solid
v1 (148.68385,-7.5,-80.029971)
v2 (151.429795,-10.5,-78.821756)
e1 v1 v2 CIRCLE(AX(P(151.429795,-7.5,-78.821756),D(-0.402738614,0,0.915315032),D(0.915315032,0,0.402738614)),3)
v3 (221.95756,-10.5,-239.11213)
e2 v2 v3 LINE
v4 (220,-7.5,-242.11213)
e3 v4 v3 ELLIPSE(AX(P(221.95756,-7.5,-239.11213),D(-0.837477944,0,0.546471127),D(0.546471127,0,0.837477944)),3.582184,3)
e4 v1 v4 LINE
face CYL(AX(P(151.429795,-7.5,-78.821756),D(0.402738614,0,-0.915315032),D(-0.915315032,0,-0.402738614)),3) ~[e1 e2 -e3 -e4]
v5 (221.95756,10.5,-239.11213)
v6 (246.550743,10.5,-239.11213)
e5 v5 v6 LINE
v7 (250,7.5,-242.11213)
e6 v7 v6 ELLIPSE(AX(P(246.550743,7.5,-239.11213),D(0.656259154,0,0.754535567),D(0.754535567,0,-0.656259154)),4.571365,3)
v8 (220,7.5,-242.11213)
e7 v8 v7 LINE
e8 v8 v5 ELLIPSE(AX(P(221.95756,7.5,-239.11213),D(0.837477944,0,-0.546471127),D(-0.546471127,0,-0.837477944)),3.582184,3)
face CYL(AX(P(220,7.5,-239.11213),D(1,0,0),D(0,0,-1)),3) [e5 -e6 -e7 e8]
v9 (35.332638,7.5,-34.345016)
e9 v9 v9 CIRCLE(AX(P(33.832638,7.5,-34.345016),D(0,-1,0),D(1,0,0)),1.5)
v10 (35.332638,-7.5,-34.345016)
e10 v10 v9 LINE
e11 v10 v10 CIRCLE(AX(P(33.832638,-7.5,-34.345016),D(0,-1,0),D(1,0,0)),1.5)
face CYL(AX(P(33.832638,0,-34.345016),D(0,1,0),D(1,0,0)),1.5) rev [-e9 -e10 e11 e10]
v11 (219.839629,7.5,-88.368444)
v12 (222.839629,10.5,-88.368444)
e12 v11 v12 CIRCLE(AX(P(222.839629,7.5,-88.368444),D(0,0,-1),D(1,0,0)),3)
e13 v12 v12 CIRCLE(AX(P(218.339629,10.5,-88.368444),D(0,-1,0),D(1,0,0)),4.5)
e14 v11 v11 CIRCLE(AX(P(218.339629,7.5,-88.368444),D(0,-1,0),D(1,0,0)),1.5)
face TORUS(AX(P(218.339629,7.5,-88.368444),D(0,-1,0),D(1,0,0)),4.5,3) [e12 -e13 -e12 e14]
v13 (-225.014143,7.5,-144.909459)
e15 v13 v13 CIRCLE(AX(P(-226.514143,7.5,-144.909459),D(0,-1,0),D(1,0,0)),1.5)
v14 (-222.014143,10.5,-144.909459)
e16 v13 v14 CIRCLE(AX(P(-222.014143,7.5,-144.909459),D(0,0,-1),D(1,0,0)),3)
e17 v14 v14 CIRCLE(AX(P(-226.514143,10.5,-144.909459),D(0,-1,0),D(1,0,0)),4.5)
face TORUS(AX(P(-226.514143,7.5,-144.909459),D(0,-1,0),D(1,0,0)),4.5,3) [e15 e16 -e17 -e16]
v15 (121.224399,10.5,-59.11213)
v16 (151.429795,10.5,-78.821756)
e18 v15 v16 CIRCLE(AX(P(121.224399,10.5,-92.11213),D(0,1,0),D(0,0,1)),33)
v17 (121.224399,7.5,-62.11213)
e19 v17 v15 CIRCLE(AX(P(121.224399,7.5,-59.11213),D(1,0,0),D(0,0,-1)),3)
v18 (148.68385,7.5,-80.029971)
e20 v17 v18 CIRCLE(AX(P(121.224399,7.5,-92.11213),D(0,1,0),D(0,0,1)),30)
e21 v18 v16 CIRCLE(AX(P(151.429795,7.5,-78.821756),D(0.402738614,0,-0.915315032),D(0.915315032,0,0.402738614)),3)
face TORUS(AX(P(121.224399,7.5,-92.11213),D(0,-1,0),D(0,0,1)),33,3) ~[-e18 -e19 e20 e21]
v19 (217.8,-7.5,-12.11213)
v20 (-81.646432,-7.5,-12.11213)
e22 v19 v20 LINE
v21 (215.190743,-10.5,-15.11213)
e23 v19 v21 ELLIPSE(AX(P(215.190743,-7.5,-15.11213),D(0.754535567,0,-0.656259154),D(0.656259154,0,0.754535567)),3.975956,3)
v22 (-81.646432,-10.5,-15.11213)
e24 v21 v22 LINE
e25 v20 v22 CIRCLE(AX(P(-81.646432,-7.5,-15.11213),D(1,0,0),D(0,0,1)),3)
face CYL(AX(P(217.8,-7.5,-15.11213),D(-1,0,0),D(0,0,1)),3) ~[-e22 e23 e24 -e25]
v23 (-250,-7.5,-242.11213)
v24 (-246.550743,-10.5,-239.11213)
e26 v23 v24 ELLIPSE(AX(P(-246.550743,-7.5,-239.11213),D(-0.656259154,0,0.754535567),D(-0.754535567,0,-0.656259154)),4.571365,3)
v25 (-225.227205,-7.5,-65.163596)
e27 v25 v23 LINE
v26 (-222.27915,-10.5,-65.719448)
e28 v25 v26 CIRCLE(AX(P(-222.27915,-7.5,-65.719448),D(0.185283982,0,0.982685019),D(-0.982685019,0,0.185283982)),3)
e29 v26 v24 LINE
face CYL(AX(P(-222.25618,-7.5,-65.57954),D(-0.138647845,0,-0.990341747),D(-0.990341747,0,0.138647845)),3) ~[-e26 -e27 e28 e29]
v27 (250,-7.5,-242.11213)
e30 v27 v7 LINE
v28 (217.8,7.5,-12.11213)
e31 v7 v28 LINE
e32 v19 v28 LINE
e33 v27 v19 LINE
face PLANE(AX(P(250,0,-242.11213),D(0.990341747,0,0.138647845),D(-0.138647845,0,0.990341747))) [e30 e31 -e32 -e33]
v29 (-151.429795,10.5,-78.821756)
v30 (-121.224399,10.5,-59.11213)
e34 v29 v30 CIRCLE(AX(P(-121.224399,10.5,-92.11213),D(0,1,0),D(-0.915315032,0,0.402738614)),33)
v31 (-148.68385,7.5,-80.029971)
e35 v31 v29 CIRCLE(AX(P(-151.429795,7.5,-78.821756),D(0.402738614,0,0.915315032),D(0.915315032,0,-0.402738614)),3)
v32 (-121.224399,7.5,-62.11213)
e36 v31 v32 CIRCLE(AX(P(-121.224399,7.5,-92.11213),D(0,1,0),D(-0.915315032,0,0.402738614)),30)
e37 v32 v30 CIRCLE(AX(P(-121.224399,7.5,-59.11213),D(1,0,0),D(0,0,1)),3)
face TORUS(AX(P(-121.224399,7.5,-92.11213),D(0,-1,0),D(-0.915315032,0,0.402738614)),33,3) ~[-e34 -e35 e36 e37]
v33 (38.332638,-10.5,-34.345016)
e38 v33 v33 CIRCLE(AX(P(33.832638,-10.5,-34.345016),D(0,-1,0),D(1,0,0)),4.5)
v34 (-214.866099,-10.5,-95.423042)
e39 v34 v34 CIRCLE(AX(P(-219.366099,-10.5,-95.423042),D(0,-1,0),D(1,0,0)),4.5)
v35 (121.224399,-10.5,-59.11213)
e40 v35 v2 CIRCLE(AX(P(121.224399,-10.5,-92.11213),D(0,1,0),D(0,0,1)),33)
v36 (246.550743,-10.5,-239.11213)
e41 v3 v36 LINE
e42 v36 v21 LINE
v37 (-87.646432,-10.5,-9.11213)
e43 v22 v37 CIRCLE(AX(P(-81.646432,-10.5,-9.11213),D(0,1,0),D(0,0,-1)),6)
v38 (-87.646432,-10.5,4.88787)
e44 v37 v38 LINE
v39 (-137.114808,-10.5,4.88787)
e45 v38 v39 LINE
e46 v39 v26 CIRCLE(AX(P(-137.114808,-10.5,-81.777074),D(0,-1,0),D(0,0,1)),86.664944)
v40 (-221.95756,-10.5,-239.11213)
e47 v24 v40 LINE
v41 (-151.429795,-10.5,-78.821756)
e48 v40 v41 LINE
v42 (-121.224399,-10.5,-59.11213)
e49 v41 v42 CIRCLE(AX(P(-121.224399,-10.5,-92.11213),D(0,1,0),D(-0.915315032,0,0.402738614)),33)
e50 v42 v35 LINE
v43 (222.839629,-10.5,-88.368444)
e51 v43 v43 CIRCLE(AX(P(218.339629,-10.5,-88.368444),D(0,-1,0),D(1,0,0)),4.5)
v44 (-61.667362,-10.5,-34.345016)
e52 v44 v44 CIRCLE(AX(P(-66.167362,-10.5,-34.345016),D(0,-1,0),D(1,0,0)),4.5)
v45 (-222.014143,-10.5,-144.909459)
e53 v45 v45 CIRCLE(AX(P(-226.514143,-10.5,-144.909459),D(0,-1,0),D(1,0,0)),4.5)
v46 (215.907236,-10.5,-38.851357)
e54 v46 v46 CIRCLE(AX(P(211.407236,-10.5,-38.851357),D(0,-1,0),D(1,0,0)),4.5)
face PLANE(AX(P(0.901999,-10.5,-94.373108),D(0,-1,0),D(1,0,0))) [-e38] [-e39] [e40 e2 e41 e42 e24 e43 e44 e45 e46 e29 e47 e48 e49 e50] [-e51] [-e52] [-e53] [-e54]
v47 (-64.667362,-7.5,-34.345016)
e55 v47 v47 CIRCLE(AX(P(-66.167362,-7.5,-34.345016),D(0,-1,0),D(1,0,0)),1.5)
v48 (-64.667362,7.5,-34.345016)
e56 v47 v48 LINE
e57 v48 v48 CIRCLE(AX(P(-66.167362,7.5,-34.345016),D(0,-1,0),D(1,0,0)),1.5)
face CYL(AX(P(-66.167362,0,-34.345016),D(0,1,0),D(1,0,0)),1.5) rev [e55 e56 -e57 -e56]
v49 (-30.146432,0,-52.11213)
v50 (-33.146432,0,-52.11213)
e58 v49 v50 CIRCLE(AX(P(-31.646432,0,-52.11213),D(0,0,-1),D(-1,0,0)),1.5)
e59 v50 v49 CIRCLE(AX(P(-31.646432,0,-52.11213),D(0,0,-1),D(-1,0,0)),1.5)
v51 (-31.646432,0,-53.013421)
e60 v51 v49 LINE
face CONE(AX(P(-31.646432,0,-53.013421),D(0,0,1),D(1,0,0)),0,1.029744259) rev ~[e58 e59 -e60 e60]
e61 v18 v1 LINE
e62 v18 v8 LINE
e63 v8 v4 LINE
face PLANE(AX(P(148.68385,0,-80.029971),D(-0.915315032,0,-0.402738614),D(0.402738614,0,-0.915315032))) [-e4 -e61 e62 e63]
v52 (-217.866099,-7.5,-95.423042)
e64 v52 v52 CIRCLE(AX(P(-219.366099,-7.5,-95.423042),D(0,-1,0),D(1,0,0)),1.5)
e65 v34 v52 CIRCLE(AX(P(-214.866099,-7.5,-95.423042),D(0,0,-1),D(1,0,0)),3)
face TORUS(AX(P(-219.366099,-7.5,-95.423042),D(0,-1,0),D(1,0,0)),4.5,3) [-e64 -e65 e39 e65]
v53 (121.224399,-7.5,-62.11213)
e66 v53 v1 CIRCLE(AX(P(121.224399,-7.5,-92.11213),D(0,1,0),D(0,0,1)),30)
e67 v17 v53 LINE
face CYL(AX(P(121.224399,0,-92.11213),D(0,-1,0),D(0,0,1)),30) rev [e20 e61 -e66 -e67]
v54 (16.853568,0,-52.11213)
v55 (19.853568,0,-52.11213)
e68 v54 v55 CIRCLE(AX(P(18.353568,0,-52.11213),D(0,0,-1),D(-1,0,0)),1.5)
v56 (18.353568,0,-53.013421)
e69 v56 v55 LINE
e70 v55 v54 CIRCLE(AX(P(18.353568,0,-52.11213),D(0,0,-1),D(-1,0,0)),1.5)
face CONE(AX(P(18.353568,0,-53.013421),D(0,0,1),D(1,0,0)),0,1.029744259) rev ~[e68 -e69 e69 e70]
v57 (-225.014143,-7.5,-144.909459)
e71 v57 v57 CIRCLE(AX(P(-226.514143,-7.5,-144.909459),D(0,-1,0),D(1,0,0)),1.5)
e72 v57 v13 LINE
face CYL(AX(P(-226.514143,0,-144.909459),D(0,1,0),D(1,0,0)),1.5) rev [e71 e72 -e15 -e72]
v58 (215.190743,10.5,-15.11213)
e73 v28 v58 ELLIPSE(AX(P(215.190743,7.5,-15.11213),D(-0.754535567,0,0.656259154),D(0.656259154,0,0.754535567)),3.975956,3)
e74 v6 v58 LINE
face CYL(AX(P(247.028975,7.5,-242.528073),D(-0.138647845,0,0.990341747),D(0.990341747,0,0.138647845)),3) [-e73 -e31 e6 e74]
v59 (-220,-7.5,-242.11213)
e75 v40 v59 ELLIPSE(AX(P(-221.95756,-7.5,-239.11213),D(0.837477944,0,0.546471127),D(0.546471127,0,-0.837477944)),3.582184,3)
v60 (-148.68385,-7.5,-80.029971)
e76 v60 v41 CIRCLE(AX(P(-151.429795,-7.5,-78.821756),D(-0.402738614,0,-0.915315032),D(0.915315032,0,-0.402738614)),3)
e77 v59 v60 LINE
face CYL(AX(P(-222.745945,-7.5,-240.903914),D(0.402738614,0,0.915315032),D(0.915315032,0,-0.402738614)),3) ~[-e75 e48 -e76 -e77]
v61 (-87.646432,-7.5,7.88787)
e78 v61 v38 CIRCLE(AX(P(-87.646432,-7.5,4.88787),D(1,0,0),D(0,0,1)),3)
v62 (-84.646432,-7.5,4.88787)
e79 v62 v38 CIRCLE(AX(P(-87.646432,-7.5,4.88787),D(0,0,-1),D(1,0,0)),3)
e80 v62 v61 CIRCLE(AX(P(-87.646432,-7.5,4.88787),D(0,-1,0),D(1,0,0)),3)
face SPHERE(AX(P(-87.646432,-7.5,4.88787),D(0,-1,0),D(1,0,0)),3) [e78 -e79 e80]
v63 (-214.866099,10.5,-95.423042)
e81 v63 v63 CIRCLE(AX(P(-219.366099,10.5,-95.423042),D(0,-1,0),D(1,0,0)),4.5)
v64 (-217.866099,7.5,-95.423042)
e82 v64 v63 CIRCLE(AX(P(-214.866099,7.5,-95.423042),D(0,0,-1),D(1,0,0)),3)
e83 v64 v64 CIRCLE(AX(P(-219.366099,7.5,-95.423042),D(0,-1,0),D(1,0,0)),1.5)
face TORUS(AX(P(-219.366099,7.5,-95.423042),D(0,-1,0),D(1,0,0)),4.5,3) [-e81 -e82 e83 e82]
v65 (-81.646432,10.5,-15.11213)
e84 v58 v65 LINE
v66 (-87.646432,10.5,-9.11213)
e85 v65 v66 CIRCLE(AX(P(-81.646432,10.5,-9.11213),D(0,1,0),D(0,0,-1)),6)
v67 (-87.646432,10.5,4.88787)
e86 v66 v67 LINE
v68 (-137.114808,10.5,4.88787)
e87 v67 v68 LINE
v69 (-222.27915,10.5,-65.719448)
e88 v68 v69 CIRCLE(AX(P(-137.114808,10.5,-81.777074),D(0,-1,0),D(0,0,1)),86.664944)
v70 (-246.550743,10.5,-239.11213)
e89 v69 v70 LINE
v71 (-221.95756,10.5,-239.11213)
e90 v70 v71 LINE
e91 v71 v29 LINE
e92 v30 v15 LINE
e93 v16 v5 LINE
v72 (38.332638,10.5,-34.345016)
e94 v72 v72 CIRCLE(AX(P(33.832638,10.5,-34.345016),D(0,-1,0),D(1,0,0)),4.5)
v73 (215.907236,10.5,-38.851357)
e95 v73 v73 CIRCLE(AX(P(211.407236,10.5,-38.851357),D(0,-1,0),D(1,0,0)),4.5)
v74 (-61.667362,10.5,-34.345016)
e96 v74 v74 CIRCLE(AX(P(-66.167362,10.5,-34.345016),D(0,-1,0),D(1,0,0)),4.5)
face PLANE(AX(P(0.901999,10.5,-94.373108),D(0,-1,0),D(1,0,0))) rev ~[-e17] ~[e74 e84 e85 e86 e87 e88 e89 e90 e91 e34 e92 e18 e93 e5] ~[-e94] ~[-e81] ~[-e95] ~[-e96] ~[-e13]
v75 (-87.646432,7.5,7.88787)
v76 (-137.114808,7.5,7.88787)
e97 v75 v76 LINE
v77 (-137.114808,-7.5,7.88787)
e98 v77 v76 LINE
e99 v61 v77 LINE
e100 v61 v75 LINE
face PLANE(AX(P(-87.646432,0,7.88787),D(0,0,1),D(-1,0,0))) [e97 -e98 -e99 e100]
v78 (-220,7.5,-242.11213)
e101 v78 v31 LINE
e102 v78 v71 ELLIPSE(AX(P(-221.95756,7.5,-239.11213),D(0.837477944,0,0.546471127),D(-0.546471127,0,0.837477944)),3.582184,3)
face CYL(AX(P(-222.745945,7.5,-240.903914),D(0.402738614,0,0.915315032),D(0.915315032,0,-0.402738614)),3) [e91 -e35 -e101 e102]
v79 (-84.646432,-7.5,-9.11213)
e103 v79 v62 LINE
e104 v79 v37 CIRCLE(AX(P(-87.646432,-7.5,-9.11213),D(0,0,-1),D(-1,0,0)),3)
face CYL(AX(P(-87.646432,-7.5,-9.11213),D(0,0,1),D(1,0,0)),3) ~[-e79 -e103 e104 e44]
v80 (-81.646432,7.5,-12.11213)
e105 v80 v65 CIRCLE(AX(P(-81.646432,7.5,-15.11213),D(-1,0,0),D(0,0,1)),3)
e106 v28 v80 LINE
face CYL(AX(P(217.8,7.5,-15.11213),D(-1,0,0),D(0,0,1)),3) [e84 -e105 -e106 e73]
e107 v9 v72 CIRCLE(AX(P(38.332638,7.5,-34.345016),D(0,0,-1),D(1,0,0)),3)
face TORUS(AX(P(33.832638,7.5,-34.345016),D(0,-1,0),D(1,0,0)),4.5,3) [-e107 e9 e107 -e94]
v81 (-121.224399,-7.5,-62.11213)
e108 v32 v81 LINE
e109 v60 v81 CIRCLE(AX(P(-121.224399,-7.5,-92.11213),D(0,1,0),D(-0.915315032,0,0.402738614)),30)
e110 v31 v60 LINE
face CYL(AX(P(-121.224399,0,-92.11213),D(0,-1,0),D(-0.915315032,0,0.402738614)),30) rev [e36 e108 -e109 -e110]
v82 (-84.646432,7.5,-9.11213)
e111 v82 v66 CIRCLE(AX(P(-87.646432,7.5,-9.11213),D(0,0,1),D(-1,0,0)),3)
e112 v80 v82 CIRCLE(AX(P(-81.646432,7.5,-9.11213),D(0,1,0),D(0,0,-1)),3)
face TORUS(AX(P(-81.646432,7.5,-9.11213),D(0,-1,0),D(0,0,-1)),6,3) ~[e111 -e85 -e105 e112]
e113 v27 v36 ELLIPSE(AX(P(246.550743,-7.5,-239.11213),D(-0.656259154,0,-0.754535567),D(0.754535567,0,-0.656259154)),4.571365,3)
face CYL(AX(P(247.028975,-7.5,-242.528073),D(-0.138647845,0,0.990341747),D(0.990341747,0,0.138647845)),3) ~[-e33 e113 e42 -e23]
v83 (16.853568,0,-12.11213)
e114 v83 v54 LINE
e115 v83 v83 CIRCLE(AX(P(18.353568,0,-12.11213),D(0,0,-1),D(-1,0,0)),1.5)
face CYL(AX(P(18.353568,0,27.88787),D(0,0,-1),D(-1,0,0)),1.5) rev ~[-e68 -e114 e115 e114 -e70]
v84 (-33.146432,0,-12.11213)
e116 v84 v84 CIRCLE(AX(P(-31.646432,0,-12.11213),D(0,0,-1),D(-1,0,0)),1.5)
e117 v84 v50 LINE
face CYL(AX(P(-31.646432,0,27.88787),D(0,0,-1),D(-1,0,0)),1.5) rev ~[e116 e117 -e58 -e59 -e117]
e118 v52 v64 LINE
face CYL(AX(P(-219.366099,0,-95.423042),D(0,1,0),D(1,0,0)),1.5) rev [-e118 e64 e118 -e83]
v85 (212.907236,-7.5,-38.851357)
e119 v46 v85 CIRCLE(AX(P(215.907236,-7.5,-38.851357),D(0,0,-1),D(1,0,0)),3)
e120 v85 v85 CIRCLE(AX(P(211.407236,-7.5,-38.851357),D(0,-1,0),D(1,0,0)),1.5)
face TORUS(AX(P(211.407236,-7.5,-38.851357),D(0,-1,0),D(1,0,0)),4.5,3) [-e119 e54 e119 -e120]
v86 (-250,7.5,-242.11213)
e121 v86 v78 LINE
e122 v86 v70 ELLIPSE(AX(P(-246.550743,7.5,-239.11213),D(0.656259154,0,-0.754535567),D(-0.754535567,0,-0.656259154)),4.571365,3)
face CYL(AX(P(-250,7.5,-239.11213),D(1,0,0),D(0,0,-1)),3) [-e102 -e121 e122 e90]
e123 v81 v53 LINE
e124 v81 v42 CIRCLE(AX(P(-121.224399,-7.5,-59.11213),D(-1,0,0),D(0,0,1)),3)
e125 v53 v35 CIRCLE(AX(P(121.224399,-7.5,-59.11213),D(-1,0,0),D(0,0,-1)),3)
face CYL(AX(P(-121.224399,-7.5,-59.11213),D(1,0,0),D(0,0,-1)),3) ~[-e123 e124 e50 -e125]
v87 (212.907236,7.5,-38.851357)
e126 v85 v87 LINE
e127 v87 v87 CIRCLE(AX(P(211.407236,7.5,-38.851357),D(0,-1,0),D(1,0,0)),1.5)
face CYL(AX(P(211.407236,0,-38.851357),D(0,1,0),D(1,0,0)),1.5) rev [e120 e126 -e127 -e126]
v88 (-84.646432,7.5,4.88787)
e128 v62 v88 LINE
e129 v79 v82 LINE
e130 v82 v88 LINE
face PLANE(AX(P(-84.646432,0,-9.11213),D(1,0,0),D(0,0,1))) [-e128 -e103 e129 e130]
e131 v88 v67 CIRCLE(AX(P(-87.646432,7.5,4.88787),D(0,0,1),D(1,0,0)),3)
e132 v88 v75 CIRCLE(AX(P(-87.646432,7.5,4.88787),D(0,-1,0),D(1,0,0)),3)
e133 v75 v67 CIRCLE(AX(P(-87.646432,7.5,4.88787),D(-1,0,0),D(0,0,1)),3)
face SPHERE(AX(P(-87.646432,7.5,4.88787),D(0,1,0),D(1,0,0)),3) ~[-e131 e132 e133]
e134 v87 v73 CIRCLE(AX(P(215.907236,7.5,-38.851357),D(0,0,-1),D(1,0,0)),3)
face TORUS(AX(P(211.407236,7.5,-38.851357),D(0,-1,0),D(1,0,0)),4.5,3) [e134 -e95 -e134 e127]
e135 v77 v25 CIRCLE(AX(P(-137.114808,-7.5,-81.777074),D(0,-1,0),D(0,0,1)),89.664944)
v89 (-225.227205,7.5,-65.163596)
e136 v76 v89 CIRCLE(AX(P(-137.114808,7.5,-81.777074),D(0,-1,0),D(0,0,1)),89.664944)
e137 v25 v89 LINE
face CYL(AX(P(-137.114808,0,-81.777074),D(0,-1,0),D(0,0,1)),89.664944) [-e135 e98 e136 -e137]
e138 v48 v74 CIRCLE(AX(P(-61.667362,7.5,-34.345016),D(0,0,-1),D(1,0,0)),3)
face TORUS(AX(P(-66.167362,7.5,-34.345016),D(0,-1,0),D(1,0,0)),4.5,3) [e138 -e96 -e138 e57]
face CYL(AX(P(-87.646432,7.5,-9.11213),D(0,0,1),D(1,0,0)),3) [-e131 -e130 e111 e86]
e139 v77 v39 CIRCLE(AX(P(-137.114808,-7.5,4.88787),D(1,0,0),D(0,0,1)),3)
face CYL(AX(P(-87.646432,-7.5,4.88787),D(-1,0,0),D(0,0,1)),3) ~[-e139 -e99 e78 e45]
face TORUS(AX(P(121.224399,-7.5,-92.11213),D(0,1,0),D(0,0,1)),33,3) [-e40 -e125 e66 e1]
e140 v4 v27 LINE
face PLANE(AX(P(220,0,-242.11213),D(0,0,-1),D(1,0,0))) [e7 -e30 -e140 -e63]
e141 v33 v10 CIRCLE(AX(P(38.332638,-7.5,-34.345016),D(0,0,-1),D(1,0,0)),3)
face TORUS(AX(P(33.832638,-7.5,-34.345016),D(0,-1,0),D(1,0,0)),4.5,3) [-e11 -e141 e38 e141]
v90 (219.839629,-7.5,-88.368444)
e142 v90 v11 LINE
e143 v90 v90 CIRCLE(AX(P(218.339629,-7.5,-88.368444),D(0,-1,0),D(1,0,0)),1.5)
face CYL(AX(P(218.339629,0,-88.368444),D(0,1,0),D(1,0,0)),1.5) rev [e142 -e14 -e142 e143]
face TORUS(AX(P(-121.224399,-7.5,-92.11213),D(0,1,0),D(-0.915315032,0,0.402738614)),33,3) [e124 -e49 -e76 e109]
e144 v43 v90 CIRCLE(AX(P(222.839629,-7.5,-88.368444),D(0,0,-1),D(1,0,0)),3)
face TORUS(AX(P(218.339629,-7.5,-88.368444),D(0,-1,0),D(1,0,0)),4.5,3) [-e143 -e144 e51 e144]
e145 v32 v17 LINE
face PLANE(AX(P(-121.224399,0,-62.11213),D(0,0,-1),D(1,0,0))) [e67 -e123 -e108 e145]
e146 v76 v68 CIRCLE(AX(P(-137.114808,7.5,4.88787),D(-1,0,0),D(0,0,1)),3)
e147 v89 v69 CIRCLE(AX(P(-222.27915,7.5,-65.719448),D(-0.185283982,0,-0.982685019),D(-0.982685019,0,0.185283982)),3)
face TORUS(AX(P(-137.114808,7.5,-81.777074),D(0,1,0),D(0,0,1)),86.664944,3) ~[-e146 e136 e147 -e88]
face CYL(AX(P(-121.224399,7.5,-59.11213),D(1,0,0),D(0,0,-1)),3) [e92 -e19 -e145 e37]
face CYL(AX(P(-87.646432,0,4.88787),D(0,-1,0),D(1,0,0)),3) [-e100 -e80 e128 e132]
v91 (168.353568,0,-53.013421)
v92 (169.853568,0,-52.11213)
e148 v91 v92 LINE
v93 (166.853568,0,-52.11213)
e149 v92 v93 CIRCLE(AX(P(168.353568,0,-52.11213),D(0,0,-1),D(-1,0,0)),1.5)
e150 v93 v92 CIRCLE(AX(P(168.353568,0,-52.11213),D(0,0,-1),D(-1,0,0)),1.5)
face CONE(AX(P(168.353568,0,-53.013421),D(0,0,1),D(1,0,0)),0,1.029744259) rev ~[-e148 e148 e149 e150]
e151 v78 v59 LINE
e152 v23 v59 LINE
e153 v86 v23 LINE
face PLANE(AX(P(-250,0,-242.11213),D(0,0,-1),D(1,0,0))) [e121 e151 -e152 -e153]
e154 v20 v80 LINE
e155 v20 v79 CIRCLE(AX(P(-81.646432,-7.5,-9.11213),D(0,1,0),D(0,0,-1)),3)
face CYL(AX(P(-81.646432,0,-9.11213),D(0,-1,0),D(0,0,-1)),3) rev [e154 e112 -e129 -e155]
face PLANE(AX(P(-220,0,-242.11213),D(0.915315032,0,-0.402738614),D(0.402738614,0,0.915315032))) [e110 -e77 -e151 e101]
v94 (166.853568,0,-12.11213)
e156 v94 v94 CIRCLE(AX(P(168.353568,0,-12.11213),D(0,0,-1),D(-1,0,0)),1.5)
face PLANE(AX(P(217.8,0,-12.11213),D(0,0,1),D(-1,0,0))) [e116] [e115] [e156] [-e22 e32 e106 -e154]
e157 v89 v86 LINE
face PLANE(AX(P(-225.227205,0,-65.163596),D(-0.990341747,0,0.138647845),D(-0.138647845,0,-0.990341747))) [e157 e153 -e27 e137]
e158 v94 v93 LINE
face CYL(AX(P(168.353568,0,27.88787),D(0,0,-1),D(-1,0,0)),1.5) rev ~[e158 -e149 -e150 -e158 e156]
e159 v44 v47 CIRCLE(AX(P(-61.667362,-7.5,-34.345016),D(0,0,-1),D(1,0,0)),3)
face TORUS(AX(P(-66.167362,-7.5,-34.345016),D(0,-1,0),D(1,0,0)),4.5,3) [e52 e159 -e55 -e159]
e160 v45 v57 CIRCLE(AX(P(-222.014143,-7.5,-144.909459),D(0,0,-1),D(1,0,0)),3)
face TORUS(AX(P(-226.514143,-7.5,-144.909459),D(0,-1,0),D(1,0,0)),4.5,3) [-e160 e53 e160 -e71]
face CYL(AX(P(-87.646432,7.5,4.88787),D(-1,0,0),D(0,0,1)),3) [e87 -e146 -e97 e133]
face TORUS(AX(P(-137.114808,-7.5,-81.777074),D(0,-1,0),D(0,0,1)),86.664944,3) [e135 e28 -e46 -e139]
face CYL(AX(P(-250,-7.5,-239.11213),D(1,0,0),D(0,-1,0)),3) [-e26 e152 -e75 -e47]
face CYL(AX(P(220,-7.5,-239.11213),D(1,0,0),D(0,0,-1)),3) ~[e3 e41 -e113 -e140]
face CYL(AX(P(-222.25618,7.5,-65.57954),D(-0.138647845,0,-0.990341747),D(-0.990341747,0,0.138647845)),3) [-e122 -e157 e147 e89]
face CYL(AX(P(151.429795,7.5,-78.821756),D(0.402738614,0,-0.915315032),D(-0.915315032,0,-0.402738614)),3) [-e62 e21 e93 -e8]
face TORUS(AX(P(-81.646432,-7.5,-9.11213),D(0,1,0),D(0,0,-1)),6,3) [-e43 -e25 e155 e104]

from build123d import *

# Parameters (mm, degrees)
F0_R     = 1.5
F1_DEPTH = 10.5
F2_R     = 3
F4_D     = 3
F4_DEPTH = 40
F4_TIP   = 0.9012909285
F5_D     = 3
F5_DEPTH = 40
F5_TIP   = 0.9012909285
F6_D     = 3
F6_DEPTH = 40
F6_TIP   = 0.9012909285


with BuildPart() as f1:
    # F0 (on Front) → F1 (new body, symmetric)
    with BuildSketch(Plane.XZ):
        with BuildLine():
            Line((-225.2272052793, -65.1635962077), (-250, -242.1121299267))
            Line((-250, -242.1121299267), (-220, -242.1121299267))
            Line((-220, -242.1121299267), (-148.6838502917, -80.0299714987))
            ThreePointArc((-148.6838502917, -80.0299714987), (-137.6185331351, -66.9877915987), (-121.224399319, -62.1121299267))
            Line((-121.224399319, -62.1121299267), (121.224399319, -62.1121299267))
            ThreePointArc((121.224399319, -62.1121299267), (137.6185331351, -66.9877915987), (148.6838502917, -80.0299714987))
            Line((148.6838502917, -80.0299714987), (220, -242.1121299267))
            Line((220, -242.1121299267), (250, -242.1121299267))
            Line((250, -242.1121299267), (217.8, -12.1121299267))
            Line((217.8, -12.1121299267), (-74.5983943343, -12.1121299267))
            Line((-74.5983943343, -12.1121299267), (-81.6464320101, -12.1121299267))
            ThreePointArc((-81.6464320101, -12.1121299267), (-83.7677523536, -11.2334502702), (-84.6464320101, -9.1121299267))
            Line((-84.6464320101, -9.1121299267), (-84.6464320101, 4.8878700733))
            ThreePointArc((-84.6464320101, 4.8878700733), (-85.5251116665, 7.0091904169), (-87.6464320101, 7.8878700733))
            Line((-87.6464320101, 7.8878700733), (-110, 7.8878700733))
            Line((-110, 7.8878700733), (-137.1148079634, 7.8878700733))
            ThreePointArc((-137.1148079634, 7.8878700733), (-194.3431036015, -12.750091039), (-225.2272052793, -65.1635962077))
        make_face()
        with Locations((-226.5141427815, -144.9094590614)):
            Circle(F0_R, mode=Mode.SUBTRACT)
        with Locations((-219.3660990627, -95.4230420261)):
            Circle(F0_R, mode=Mode.SUBTRACT)
        with Locations((-66.1673620343, -34.3450158834)):
            Circle(F0_R, mode=Mode.SUBTRACT)
        with Locations((218.3396287172, -88.3684444206)):
            Circle(F0_R, mode=Mode.SUBTRACT)
        with Locations((33.8326379657, -34.3450158834)):
            Circle(F0_R, mode=Mode.SUBTRACT)
        with Locations((211.4072364905, -38.8513570869)):
            Circle(F0_R, mode=Mode.SUBTRACT)
    extrude(amount=F1_DEPTH, both=True)

    # F2
    f2_edges = [f1.edges().sort_by_distance(p)[0] for p in [
        (235, -10.5, -242.11213),
        (233.9, -10.5, -127.11213),
        (68.076784, -10.5, -12.11213),
        (-83.767752, -10.5, -11.23345),
        (-84.646432, -10.5, -2.11213),
        (-85.525112, -10.5, 7.00919),
        (-112.38062, -10.5, 7.88787),
        (-194.343104, -10.5, -12.750091),
        (-237.613603, -10.5, -153.637863),
        (-235, -10.5, -242.11213),
        (-184.341925, -10.5, -161.071051),
        (-137.618533, -10.5, -66.987792),
        (0, -10.5, -62.11213),
        (137.618533, -10.5, -66.987792),
        (184.341925, -10.5, -161.071051),
        (-228.014143, -10.5, -144.909459),
        (-220.866099, -10.5, -95.423042),
        (-67.667362, -10.5, -34.345016),
        (216.839629, -10.5, -88.368444),
        (32.332638, -10.5, -34.345016),
        (209.907236, -10.5, -38.851357),
        (-184.341925, 10.5, -161.071051),
        (235, 10.5, -242.11213),
        (233.9, 10.5, -127.11213),
        (68.076784, 10.5, -12.11213),
        (-83.767752, 10.5, -11.23345),
        (-84.646432, 10.5, -2.11213),
        (-85.525112, 10.5, 7.00919),
        (-112.38062, 10.5, 7.88787),
        (-194.343104, 10.5, -12.750091),
        (-237.613603, 10.5, -153.637863),
        (-235, 10.5, -242.11213),
        (-137.618533, 10.5, -66.987792),
        (0, 10.5, -62.11213),
        (137.618533, 10.5, -66.987792),
        (184.341925, 10.5, -161.071051),
        (-228.014143, 10.5, -144.909459),
        (-220.866099, 10.5, -95.423042),
        (-67.667362, 10.5, -34.345016),
        (216.839629, 10.5, -88.368444),
        (32.332638, 10.5, -34.345016),
        (209.907236, 10.5, -38.851357),
    ]]
    fillet(f2_edges, radius=F2_R)

    # F4
    with Locations(Plane.XY.offset(-12.1121299267)):
        with Locations((-31.6464320101, 0)):
            Hole(F4_D / 2, depth=F4_DEPTH)
            with Locations((0, 0, -(F4_DEPTH + F4_TIP / 2))):  # 118° drill point
                Cone(0, F4_D / 2, F4_TIP, mode=Mode.SUBTRACT)

    # F5
    with Locations(Plane.XY.offset(-12.1121299267)):
        with Locations((18.3535679899, 0)):
            Hole(F5_D / 2, depth=F5_DEPTH)
            with Locations((0, 0, -(F5_DEPTH + F5_TIP / 2))):  # 118° drill point
                Cone(0, F5_D / 2, F5_TIP, mode=Mode.SUBTRACT)

    # F6
    with Locations(Plane.XY.offset(-12.1121299267)):
        with Locations((168.3535679899, 0)):
            Hole(F6_D / 2, depth=F6_DEPTH)
            with Locations((0, 0, -(F6_DEPTH + F6_TIP / 2))):  # 118° drill point
                Cone(0, F6_D / 2, F6_TIP, mode=Mode.SUBTRACT)


solid = f1.part
